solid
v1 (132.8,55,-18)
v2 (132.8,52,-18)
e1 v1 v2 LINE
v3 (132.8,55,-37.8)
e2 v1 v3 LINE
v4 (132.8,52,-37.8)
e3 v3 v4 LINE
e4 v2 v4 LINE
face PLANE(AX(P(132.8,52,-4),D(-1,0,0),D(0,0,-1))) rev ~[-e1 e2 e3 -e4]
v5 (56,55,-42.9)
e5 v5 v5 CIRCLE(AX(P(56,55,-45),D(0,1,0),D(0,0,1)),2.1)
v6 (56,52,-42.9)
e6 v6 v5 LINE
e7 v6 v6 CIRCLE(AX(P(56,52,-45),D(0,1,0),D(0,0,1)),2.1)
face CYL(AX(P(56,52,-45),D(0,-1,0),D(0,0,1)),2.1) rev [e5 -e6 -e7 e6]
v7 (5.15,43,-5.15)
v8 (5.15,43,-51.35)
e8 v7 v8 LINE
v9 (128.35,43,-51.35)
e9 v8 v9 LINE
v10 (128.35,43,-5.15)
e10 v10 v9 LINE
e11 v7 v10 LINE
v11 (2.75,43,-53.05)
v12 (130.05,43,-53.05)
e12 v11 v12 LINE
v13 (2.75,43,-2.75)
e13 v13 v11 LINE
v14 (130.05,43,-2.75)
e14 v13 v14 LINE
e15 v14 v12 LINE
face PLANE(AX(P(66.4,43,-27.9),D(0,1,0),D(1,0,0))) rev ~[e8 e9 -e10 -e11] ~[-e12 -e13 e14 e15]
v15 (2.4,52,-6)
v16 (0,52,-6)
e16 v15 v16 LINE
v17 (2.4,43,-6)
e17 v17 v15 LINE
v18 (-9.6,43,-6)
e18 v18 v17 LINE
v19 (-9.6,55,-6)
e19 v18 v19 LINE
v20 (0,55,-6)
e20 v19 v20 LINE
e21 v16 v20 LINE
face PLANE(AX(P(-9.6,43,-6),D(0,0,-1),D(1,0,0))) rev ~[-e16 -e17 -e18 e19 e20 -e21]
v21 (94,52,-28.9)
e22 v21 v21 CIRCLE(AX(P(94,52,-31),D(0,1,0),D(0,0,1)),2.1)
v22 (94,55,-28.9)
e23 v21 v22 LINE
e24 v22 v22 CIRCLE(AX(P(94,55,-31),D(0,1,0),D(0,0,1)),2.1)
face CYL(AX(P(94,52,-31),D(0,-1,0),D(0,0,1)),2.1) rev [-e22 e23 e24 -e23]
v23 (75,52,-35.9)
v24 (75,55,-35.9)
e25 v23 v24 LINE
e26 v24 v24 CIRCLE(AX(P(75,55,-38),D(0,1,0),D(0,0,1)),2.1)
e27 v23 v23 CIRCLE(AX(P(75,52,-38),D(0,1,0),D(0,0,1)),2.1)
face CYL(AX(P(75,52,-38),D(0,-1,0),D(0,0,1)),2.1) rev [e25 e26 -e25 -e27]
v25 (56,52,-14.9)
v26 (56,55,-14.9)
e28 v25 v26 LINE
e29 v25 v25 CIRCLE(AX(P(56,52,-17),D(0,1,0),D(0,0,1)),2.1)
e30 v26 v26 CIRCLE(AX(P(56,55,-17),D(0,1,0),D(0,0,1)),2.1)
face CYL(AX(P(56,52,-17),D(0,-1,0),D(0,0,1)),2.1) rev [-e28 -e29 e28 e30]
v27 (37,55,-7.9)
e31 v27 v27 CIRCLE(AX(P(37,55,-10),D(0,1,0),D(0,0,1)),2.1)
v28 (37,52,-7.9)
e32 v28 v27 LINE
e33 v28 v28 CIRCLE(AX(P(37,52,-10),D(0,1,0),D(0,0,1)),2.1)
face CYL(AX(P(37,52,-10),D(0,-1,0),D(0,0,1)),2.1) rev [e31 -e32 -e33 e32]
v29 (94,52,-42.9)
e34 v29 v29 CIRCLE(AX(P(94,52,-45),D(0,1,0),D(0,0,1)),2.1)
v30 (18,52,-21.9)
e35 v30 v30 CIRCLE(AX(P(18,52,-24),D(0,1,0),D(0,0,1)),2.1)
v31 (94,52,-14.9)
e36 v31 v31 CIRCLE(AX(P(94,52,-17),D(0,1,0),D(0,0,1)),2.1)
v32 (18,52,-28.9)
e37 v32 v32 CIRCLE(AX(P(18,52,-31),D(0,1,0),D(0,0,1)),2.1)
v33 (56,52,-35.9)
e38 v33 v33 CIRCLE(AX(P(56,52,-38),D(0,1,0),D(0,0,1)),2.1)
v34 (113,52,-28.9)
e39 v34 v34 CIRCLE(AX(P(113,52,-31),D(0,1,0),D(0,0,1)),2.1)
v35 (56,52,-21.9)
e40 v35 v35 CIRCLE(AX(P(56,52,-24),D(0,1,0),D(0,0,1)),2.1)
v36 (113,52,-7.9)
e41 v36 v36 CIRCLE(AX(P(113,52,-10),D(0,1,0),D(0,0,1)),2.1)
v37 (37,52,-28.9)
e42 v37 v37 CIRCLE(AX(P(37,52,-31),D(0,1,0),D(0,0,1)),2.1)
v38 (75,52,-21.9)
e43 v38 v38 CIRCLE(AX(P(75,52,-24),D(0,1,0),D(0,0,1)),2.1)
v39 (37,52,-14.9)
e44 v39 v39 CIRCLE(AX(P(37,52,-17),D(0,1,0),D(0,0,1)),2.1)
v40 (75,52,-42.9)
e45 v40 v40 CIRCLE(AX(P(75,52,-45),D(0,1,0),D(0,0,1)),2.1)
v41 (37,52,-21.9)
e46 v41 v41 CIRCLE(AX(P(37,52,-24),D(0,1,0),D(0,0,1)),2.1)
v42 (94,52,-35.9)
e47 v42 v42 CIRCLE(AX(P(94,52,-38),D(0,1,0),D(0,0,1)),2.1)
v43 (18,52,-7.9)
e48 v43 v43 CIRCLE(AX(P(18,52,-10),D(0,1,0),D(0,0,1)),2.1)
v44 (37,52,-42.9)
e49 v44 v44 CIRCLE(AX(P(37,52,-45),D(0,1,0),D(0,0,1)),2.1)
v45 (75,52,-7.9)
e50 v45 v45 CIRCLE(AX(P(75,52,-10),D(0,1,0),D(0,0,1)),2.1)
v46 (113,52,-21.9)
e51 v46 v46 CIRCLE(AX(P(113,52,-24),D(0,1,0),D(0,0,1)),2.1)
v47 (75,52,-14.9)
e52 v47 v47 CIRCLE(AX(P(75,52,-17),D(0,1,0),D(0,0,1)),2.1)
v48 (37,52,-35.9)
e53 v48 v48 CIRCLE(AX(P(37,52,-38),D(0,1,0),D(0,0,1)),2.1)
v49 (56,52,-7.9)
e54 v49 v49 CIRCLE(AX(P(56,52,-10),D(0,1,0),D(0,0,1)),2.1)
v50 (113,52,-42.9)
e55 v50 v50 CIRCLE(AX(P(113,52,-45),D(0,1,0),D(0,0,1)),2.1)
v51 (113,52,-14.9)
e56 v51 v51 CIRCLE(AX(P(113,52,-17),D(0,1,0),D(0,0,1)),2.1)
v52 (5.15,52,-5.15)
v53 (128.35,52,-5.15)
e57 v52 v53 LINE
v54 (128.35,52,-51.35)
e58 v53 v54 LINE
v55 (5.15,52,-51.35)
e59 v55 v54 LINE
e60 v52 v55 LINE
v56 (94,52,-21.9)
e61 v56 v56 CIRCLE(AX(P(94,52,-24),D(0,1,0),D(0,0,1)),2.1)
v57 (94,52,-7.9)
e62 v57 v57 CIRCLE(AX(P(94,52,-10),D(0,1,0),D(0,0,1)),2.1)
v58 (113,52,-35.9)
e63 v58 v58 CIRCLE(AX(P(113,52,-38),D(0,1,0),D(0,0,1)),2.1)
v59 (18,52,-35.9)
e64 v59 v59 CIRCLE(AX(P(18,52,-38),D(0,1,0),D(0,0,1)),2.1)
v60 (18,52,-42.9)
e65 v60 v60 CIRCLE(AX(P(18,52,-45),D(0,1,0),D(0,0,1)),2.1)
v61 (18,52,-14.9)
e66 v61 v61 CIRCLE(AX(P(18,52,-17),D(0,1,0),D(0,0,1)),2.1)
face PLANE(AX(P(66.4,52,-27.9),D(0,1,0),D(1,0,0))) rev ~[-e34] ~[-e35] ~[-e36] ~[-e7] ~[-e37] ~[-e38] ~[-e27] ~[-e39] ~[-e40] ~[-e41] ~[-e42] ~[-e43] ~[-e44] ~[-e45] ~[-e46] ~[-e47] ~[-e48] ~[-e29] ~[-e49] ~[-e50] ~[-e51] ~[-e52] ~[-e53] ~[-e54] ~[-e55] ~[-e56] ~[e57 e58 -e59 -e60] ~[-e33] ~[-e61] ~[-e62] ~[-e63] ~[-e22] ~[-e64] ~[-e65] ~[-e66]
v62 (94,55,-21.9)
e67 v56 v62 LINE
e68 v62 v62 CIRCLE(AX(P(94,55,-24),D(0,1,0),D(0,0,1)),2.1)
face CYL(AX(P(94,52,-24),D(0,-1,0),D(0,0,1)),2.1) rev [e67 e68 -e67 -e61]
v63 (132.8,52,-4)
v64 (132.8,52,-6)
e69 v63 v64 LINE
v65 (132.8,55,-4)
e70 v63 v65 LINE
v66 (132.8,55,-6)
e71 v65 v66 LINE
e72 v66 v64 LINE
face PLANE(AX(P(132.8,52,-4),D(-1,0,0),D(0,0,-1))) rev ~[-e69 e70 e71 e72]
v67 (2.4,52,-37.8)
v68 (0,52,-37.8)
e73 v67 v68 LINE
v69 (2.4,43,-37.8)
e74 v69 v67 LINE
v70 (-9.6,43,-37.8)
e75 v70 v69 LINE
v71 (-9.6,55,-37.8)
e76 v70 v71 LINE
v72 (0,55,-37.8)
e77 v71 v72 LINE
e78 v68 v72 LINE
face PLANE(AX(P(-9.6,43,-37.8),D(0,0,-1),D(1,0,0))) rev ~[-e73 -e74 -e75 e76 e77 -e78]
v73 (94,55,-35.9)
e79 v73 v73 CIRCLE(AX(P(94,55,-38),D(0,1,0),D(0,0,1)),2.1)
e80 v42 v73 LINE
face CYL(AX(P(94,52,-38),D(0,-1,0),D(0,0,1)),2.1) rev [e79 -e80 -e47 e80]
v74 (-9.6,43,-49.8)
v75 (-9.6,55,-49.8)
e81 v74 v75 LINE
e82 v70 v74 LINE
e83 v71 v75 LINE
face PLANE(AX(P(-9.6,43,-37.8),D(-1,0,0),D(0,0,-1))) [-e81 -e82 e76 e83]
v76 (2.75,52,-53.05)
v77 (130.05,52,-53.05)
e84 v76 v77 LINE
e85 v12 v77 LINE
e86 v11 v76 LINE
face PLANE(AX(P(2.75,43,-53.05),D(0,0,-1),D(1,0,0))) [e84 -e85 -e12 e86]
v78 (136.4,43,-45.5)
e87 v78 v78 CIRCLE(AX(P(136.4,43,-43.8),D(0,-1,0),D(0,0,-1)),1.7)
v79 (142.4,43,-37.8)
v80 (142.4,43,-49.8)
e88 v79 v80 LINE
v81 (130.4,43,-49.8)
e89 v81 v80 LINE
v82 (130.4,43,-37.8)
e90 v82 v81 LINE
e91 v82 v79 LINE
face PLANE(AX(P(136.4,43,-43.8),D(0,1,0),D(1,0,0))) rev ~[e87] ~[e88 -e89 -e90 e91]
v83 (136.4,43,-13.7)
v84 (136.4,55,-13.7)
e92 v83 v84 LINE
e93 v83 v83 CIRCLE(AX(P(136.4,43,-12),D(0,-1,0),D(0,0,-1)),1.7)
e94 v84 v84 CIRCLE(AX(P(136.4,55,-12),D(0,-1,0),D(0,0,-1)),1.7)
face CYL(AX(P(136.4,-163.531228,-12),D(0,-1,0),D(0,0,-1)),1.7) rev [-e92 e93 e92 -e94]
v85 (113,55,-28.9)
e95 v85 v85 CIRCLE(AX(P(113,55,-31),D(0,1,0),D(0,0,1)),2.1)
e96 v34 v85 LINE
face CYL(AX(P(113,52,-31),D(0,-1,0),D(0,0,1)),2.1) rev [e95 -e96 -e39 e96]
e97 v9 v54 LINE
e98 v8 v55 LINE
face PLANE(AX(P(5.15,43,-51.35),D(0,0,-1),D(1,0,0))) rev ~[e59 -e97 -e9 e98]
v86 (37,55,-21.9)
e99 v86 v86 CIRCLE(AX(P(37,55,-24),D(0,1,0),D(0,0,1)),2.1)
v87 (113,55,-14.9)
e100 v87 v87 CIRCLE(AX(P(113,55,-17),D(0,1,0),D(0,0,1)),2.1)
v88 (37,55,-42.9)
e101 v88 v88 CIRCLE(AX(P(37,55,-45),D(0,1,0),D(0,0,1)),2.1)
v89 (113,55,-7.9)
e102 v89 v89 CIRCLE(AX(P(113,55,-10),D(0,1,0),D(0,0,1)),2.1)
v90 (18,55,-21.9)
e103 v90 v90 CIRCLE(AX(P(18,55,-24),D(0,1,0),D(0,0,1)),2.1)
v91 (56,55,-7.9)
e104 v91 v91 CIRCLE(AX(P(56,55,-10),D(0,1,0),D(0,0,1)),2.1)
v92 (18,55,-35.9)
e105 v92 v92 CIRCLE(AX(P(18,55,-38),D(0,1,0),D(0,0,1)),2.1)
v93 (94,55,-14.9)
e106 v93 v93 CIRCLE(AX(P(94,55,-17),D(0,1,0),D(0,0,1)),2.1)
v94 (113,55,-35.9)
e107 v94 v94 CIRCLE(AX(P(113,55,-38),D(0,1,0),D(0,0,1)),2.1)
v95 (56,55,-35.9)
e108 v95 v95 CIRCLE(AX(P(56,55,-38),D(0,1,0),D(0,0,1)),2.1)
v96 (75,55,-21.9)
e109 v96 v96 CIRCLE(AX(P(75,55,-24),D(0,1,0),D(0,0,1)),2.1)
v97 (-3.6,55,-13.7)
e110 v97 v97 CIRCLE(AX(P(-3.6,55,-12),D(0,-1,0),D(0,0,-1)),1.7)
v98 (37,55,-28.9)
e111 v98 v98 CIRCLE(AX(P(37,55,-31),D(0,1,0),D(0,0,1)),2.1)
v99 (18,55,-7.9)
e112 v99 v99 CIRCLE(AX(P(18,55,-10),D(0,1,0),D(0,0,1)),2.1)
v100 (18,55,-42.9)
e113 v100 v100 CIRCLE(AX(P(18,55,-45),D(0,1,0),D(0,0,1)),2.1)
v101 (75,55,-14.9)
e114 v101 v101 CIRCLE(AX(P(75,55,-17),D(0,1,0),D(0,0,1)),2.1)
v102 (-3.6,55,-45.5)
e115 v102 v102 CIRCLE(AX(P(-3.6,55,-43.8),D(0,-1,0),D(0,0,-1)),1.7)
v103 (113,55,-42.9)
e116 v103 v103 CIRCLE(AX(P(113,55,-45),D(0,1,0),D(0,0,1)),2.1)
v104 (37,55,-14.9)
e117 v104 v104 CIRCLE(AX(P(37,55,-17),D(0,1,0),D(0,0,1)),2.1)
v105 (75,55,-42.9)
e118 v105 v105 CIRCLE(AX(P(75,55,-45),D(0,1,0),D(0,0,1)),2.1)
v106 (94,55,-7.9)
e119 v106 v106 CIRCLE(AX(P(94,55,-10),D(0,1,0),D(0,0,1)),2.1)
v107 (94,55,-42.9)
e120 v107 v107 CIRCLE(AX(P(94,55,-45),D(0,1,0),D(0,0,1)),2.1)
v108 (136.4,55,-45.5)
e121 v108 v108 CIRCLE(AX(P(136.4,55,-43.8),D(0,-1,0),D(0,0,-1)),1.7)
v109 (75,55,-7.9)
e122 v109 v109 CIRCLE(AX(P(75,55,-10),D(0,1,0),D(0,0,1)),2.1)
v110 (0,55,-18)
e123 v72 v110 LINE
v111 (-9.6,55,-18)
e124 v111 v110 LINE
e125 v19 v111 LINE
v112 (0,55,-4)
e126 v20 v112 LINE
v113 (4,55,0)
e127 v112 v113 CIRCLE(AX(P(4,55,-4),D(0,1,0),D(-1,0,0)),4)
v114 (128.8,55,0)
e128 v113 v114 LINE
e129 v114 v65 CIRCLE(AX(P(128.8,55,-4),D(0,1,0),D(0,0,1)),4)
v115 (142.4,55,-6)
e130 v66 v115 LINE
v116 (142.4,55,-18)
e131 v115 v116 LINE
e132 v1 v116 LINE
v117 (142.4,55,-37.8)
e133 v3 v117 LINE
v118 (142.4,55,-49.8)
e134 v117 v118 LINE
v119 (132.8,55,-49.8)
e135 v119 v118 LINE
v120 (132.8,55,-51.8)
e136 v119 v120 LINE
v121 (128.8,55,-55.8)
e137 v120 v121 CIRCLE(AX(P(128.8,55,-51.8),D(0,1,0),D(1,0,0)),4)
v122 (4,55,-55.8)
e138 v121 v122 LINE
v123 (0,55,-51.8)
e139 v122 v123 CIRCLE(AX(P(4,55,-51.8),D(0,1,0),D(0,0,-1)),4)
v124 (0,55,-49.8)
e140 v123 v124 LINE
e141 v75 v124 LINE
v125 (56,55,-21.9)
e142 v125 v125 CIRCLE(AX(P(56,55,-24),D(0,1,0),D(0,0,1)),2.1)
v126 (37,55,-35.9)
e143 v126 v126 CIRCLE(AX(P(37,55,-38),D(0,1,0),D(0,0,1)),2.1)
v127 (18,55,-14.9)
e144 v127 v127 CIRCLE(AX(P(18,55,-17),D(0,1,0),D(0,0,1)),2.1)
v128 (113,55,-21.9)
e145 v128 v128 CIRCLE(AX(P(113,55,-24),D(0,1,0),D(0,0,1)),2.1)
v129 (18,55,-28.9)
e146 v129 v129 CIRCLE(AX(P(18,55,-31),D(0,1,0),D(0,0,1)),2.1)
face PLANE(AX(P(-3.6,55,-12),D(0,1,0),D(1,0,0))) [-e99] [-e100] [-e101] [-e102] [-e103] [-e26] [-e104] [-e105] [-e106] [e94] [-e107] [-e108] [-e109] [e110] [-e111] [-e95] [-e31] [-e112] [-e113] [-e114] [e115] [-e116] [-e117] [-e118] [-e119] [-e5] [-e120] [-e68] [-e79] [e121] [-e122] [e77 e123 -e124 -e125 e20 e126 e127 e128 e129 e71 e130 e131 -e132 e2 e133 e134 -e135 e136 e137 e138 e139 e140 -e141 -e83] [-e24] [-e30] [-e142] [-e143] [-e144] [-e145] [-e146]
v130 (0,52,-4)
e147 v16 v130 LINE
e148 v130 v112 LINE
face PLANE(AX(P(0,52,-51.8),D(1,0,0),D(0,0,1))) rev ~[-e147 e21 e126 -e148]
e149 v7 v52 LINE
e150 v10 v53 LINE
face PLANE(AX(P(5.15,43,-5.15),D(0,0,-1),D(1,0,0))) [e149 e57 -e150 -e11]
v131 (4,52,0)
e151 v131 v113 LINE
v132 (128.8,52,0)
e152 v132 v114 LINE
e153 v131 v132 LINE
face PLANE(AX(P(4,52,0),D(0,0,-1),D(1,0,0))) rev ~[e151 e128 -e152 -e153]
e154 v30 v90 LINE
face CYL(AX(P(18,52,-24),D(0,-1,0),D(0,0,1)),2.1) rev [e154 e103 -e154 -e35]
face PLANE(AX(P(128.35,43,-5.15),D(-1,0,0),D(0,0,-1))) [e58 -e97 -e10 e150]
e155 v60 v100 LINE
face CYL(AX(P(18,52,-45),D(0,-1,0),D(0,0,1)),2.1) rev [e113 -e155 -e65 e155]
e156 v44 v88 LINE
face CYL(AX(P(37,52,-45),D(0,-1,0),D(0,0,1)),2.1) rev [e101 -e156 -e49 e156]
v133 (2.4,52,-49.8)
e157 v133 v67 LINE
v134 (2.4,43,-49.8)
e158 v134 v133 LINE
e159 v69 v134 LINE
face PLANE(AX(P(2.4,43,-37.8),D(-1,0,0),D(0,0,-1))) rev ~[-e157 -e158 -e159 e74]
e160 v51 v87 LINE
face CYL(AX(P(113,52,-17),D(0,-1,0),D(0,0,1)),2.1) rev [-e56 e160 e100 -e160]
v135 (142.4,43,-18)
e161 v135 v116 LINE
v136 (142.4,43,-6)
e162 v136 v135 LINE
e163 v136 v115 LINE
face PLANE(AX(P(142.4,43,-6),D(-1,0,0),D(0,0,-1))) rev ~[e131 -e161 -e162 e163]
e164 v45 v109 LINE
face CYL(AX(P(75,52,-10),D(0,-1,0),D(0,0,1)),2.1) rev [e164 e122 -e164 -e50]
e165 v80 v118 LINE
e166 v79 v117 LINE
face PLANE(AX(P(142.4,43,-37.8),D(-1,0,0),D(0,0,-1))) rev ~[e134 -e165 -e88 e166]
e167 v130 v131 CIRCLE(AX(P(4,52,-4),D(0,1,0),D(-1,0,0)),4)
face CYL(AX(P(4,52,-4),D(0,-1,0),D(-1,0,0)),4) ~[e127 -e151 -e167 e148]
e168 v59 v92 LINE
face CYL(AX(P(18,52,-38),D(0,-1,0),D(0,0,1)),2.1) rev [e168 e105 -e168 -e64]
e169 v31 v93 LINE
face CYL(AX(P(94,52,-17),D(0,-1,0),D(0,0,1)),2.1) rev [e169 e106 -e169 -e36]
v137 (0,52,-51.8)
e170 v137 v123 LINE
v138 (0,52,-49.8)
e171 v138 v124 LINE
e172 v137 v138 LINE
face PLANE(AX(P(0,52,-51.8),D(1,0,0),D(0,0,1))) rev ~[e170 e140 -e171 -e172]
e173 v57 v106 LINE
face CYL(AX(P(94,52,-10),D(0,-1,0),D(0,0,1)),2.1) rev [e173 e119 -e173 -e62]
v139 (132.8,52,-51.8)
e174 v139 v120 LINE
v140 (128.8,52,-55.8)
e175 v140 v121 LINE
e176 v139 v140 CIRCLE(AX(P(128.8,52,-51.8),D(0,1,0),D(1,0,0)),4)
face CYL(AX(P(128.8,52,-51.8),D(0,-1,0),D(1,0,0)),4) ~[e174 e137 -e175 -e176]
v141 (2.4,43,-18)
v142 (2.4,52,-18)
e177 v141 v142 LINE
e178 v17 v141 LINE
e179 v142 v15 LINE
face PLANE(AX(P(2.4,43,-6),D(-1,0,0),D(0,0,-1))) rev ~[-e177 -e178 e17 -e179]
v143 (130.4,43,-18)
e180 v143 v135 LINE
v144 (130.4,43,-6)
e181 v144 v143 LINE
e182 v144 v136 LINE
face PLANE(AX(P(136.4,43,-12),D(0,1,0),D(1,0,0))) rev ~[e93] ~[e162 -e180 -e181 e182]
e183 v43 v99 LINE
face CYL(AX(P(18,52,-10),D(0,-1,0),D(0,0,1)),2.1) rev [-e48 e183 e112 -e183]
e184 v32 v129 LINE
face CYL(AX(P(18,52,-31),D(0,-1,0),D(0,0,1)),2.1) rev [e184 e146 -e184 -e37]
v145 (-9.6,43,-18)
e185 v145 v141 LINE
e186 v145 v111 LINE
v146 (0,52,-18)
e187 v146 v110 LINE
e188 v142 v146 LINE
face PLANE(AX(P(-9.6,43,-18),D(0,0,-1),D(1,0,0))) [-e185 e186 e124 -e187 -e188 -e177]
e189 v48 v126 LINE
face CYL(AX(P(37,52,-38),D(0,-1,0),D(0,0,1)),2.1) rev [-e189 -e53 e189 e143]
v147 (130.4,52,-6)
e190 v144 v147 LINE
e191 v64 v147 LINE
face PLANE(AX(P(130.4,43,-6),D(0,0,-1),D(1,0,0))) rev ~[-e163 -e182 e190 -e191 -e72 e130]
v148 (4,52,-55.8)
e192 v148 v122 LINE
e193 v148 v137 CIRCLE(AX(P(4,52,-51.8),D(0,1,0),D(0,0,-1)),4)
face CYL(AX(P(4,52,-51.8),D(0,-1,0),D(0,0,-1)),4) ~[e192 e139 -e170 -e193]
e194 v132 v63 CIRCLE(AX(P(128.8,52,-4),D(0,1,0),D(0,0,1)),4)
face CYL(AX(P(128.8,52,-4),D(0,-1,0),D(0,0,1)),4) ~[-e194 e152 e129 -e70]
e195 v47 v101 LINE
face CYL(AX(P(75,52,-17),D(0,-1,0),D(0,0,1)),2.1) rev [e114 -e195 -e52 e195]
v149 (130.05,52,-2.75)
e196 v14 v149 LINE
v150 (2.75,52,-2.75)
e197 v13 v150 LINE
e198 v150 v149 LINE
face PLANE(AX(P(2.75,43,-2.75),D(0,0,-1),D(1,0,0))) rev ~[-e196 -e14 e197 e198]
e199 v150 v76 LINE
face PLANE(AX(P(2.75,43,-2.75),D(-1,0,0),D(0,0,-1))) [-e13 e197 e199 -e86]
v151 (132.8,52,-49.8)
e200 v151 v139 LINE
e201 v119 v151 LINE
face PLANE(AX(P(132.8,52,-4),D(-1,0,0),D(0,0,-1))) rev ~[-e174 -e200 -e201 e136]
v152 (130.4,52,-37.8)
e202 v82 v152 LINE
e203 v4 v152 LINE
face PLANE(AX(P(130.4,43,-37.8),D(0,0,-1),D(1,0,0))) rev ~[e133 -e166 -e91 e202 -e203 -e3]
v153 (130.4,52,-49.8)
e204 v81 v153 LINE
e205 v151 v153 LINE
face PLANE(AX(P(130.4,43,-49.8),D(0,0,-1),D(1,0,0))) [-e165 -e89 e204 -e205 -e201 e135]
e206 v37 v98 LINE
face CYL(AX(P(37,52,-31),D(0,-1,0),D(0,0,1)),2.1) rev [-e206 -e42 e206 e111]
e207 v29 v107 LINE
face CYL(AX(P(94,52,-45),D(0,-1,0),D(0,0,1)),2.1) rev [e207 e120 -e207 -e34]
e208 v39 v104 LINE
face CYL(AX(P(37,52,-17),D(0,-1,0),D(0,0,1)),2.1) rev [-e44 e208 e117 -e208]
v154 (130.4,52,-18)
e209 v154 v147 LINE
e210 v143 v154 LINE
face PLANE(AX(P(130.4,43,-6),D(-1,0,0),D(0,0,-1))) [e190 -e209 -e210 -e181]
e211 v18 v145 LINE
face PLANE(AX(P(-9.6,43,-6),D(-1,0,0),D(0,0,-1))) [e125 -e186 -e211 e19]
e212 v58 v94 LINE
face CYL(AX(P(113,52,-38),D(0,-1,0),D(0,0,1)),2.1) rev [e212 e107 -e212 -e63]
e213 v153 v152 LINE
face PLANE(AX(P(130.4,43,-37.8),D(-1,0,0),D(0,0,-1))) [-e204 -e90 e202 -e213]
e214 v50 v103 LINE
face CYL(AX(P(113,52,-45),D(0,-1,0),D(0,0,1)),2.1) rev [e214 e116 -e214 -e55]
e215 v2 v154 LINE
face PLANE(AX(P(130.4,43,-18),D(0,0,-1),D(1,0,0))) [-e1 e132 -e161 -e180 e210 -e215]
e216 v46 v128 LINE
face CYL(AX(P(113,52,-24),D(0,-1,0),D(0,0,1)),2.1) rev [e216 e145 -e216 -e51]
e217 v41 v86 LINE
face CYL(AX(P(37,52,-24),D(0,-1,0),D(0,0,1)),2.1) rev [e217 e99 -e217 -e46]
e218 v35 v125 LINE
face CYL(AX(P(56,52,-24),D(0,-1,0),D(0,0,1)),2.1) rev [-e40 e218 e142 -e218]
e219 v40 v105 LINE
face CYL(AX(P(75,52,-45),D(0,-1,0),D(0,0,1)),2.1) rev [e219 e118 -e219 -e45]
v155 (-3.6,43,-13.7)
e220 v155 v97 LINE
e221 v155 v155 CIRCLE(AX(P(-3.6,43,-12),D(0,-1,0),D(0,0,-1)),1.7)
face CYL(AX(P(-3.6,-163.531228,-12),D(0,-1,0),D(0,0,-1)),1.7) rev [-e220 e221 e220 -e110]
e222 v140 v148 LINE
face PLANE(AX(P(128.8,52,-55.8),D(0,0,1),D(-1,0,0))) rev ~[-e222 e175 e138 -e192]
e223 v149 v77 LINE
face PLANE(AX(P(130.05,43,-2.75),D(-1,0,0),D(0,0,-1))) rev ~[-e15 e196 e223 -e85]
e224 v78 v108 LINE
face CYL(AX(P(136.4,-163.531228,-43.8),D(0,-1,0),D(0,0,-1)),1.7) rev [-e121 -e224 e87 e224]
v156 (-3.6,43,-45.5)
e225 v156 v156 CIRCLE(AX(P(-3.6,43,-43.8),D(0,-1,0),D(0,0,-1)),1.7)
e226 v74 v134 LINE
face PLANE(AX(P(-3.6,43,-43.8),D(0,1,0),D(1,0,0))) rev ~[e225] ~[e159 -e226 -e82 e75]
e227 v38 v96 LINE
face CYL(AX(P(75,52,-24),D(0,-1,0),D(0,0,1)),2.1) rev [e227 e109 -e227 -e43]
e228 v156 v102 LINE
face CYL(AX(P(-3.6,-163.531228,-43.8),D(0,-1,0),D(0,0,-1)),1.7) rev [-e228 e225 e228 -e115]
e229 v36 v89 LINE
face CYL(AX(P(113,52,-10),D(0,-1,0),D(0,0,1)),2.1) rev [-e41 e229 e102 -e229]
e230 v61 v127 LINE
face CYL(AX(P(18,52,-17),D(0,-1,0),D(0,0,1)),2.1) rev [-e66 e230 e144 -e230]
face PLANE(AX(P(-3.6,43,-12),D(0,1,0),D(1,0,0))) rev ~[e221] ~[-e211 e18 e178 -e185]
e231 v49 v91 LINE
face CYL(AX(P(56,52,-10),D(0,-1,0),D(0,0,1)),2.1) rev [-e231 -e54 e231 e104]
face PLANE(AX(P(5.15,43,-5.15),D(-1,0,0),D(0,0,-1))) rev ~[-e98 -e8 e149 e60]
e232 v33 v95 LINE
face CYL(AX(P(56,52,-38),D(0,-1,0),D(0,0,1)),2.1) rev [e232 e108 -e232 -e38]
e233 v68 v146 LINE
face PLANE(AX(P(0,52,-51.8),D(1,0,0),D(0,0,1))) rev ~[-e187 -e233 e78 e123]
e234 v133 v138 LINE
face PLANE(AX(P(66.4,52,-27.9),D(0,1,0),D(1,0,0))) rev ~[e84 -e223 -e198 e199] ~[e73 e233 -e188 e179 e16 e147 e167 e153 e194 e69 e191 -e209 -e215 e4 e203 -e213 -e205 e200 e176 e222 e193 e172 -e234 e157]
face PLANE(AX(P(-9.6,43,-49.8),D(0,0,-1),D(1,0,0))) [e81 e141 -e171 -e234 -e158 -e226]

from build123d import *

# Parameters (mm, degrees)
TOP_PLATE_DEPTH               = 3
SK_TABBLOCKS_W                = 12
SK_TABBLOCKS_H                = 12
TAB_BLOCKS_DEPTH              = 12
SK_SKIRT_W                    = 127.3
SK_SKIRT_H                    = 50.3
SK_SKIRT_W_2                  = 123.2
SK_SKIRT_H_2                  = 46.2
LOCATING_SKIRT_DEPTH          = 9
M3_CLEARANCE_HOLES_DEPTH      = 163.531227769
M3_CLEARANCE_HOLES_DEPTH_BACK = 163.531227769
SK_TABHOLES_R                 = 1.7
SK_VENTS_R                    = 2.1
VENT_HOLES_DEPTH              = 3


with BuildPart() as part:
    # Sk_Plate → Top Plate (new body)
    with BuildSketch(Plane(origin=(0, 52, 0), x_dir=(1, 0, 0), z_dir=(0, 1, 0))):
        with BuildLine():
            Line((4, 0), (128.8, 0))
            ThreePointArc((128.8, 0), (131.628427125, 1.171572875), (132.8, 4))
            Line((132.8, 4), (132.8, 51.8))
            ThreePointArc((132.8, 51.8), (131.628427125, 54.628427125), (128.8, 55.8))
            Line((128.8, 55.8), (4, 55.8))
            ThreePointArc((4, 55.8), (1.171572875, 54.628427125), (0, 51.8))
            Line((0, 51.8), (0, 4))
            ThreePointArc((0, 4), (1.171572875, 1.171572875), (4, 0))
        make_face()
    extrude(amount=TOP_PLATE_DEPTH)

    # Sk_TabBlocks → Tab Blocks (add)
    with BuildSketch(Plane(origin=(0, 43, 0), x_dir=(1, 0, 0), z_dir=(0, 1, 0))):
        with Locations((-3.6, 12)):
            Rectangle(SK_TABBLOCKS_W, SK_TABBLOCKS_H)
        with Locations((136.4, 12)):
            Rectangle(SK_TABBLOCKS_W, SK_TABBLOCKS_H)
        with Locations((-3.6, 43.8)):
            Rectangle(SK_TABBLOCKS_W, SK_TABBLOCKS_H)
        with Locations((136.4, 43.8)):
            Rectangle(SK_TABBLOCKS_W, SK_TABBLOCKS_H)
    extrude(amount=TAB_BLOCKS_DEPTH)

    # Sk_Skirt → Locating Skirt (add)
    with BuildSketch(Plane(origin=(0, 43, 0), x_dir=(1, 0, 0), z_dir=(0, 1, 0))):
        with Locations((66.4, 27.9)):
            Rectangle(SK_SKIRT_W, SK_SKIRT_H)
        with Locations((66.75, 28.25)):
            Rectangle(SK_SKIRT_W_2, SK_SKIRT_H_2, mode=Mode.SUBTRACT)
    extrude(amount=LOCATING_SKIRT_DEPTH)

    # Sk_TabHoles → M3 Clearance Holes (cut, two sides: drawn at the far end of the back side and taken through both)
    with BuildSketch(Plane(origin=(0, 0, 0), x_dir=(1, 0, 0), z_dir=(0, 1, 0)).offset(-M3_CLEARANCE_HOLES_DEPTH_BACK)):
        with Locations(Location((-3.6, 12, 0), (0, 0, 90))):
            Circle(SK_TABHOLES_R)
        with Locations(Location((-3.6, 43.8, 0), (0, 0, 90))):
            Circle(SK_TABHOLES_R)
        with Locations(Location((136.4, 12, 0), (0, 0, 90))):
            Circle(SK_TABHOLES_R)
        with Locations(Location((136.4, 43.8, 0), (0, 0, 90))):
            Circle(SK_TABHOLES_R)
    extrude(amount=M3_CLEARANCE_HOLES_DEPTH + M3_CLEARANCE_HOLES_DEPTH_BACK, mode=Mode.SUBTRACT)

    # Sk_Vents → Vent Holes (cut)
    with BuildSketch(Plane(origin=(0, 52, 0), x_dir=(1, 0, 0), z_dir=(0, 1, 0))):
        with Locations(Location((18, 10, 0), (0, 0, 270))):
            Circle(SK_VENTS_R)
        with Locations(Location((18, 17, 0), (0, 0, 270))):
            Circle(SK_VENTS_R)
        with Locations(Location((18, 24, 0), (0, 0, 270))):
            Circle(SK_VENTS_R)
        with Locations(Location((18, 31, 0), (0, 0, 270))):
            Circle(SK_VENTS_R)
        with Locations(Location((18, 38, 0), (0, 0, 270))):
            Circle(SK_VENTS_R)
        with Locations(Location((18, 45, 0), (0, 0, 270))):
            Circle(SK_VENTS_R)
        with Locations(Location((37, 10, 0), (0, 0, 270))):
            Circle(SK_VENTS_R)
        with Locations(Location((37, 17, 0), (0, 0, 270))):
            Circle(SK_VENTS_R)
        with Locations(Location((37, 24, 0), (0, 0, 270))):
            Circle(SK_VENTS_R)
        with Locations(Location((37, 31, 0), (0, 0, 270))):
            Circle(SK_VENTS_R)
        with Locations(Location((37, 38, 0), (0, 0, 270))):
            Circle(SK_VENTS_R)
        with Locations(Location((37, 45, 0), (0, 0, 270))):
            Circle(SK_VENTS_R)
        with Locations(Location((56, 10, 0), (0, 0, 270))):
            Circle(SK_VENTS_R)
        with Locations(Location((56, 17, 0), (0, 0, 270))):
            Circle(SK_VENTS_R)
        with Locations(Location((56, 24, 0), (0, 0, 270))):
            Circle(SK_VENTS_R)
        with Locations(Location((56, 38, 0), (0, 0, 270))):
            Circle(SK_VENTS_R)
        with Locations(Location((56, 45, 0), (0, 0, 270))):
            Circle(SK_VENTS_R)
        with Locations(Location((75, 10, 0), (0, 0, 270))):
            Circle(SK_VENTS_R)
        with Locations(Location((75, 17, 0), (0, 0, 270))):
            Circle(SK_VENTS_R)
        with Locations(Location((75, 24, 0), (0, 0, 270))):
            Circle(SK_VENTS_R)
        with Locations(Location((75, 38, 0), (0, 0, 270))):
            Circle(SK_VENTS_R)
        with Locations(Location((75, 45, 0), (0, 0, 270))):
            Circle(SK_VENTS_R)
        with Locations(Location((94, 10, 0), (0, 0, 270))):
            Circle(SK_VENTS_R)
        with Locations(Location((94, 17, 0), (0, 0, 270))):
            Circle(SK_VENTS_R)
        with Locations(Location((94, 24, 0), (0, 0, 270))):
            Circle(SK_VENTS_R)
        with Locations(Location((94, 31, 0), (0, 0, 270))):
            Circle(SK_VENTS_R)
        with Locations(Location((94, 38, 0), (0, 0, 270))):
            Circle(SK_VENTS_R)
        with Locations(Location((94, 45, 0), (0, 0, 270))):
            Circle(SK_VENTS_R)
        with Locations(Location((113, 10, 0), (0, 0, 270))):
            Circle(SK_VENTS_R)
        with Locations(Location((113, 17, 0), (0, 0, 270))):
            Circle(SK_VENTS_R)
        with Locations(Location((113, 24, 0), (0, 0, 270))):
            Circle(SK_VENTS_R)
        with Locations(Location((113, 31, 0), (0, 0, 270))):
            Circle(SK_VENTS_R)
        with Locations(Location((113, 38, 0), (0, 0, 270))):
            Circle(SK_VENTS_R)
        with Locations(Location((113, 45, 0), (0, 0, 270))):
            Circle(SK_VENTS_R)
    extrude(amount=VENT_HOLES_DEPTH, mode=Mode.SUBTRACT)


solid = part.part
